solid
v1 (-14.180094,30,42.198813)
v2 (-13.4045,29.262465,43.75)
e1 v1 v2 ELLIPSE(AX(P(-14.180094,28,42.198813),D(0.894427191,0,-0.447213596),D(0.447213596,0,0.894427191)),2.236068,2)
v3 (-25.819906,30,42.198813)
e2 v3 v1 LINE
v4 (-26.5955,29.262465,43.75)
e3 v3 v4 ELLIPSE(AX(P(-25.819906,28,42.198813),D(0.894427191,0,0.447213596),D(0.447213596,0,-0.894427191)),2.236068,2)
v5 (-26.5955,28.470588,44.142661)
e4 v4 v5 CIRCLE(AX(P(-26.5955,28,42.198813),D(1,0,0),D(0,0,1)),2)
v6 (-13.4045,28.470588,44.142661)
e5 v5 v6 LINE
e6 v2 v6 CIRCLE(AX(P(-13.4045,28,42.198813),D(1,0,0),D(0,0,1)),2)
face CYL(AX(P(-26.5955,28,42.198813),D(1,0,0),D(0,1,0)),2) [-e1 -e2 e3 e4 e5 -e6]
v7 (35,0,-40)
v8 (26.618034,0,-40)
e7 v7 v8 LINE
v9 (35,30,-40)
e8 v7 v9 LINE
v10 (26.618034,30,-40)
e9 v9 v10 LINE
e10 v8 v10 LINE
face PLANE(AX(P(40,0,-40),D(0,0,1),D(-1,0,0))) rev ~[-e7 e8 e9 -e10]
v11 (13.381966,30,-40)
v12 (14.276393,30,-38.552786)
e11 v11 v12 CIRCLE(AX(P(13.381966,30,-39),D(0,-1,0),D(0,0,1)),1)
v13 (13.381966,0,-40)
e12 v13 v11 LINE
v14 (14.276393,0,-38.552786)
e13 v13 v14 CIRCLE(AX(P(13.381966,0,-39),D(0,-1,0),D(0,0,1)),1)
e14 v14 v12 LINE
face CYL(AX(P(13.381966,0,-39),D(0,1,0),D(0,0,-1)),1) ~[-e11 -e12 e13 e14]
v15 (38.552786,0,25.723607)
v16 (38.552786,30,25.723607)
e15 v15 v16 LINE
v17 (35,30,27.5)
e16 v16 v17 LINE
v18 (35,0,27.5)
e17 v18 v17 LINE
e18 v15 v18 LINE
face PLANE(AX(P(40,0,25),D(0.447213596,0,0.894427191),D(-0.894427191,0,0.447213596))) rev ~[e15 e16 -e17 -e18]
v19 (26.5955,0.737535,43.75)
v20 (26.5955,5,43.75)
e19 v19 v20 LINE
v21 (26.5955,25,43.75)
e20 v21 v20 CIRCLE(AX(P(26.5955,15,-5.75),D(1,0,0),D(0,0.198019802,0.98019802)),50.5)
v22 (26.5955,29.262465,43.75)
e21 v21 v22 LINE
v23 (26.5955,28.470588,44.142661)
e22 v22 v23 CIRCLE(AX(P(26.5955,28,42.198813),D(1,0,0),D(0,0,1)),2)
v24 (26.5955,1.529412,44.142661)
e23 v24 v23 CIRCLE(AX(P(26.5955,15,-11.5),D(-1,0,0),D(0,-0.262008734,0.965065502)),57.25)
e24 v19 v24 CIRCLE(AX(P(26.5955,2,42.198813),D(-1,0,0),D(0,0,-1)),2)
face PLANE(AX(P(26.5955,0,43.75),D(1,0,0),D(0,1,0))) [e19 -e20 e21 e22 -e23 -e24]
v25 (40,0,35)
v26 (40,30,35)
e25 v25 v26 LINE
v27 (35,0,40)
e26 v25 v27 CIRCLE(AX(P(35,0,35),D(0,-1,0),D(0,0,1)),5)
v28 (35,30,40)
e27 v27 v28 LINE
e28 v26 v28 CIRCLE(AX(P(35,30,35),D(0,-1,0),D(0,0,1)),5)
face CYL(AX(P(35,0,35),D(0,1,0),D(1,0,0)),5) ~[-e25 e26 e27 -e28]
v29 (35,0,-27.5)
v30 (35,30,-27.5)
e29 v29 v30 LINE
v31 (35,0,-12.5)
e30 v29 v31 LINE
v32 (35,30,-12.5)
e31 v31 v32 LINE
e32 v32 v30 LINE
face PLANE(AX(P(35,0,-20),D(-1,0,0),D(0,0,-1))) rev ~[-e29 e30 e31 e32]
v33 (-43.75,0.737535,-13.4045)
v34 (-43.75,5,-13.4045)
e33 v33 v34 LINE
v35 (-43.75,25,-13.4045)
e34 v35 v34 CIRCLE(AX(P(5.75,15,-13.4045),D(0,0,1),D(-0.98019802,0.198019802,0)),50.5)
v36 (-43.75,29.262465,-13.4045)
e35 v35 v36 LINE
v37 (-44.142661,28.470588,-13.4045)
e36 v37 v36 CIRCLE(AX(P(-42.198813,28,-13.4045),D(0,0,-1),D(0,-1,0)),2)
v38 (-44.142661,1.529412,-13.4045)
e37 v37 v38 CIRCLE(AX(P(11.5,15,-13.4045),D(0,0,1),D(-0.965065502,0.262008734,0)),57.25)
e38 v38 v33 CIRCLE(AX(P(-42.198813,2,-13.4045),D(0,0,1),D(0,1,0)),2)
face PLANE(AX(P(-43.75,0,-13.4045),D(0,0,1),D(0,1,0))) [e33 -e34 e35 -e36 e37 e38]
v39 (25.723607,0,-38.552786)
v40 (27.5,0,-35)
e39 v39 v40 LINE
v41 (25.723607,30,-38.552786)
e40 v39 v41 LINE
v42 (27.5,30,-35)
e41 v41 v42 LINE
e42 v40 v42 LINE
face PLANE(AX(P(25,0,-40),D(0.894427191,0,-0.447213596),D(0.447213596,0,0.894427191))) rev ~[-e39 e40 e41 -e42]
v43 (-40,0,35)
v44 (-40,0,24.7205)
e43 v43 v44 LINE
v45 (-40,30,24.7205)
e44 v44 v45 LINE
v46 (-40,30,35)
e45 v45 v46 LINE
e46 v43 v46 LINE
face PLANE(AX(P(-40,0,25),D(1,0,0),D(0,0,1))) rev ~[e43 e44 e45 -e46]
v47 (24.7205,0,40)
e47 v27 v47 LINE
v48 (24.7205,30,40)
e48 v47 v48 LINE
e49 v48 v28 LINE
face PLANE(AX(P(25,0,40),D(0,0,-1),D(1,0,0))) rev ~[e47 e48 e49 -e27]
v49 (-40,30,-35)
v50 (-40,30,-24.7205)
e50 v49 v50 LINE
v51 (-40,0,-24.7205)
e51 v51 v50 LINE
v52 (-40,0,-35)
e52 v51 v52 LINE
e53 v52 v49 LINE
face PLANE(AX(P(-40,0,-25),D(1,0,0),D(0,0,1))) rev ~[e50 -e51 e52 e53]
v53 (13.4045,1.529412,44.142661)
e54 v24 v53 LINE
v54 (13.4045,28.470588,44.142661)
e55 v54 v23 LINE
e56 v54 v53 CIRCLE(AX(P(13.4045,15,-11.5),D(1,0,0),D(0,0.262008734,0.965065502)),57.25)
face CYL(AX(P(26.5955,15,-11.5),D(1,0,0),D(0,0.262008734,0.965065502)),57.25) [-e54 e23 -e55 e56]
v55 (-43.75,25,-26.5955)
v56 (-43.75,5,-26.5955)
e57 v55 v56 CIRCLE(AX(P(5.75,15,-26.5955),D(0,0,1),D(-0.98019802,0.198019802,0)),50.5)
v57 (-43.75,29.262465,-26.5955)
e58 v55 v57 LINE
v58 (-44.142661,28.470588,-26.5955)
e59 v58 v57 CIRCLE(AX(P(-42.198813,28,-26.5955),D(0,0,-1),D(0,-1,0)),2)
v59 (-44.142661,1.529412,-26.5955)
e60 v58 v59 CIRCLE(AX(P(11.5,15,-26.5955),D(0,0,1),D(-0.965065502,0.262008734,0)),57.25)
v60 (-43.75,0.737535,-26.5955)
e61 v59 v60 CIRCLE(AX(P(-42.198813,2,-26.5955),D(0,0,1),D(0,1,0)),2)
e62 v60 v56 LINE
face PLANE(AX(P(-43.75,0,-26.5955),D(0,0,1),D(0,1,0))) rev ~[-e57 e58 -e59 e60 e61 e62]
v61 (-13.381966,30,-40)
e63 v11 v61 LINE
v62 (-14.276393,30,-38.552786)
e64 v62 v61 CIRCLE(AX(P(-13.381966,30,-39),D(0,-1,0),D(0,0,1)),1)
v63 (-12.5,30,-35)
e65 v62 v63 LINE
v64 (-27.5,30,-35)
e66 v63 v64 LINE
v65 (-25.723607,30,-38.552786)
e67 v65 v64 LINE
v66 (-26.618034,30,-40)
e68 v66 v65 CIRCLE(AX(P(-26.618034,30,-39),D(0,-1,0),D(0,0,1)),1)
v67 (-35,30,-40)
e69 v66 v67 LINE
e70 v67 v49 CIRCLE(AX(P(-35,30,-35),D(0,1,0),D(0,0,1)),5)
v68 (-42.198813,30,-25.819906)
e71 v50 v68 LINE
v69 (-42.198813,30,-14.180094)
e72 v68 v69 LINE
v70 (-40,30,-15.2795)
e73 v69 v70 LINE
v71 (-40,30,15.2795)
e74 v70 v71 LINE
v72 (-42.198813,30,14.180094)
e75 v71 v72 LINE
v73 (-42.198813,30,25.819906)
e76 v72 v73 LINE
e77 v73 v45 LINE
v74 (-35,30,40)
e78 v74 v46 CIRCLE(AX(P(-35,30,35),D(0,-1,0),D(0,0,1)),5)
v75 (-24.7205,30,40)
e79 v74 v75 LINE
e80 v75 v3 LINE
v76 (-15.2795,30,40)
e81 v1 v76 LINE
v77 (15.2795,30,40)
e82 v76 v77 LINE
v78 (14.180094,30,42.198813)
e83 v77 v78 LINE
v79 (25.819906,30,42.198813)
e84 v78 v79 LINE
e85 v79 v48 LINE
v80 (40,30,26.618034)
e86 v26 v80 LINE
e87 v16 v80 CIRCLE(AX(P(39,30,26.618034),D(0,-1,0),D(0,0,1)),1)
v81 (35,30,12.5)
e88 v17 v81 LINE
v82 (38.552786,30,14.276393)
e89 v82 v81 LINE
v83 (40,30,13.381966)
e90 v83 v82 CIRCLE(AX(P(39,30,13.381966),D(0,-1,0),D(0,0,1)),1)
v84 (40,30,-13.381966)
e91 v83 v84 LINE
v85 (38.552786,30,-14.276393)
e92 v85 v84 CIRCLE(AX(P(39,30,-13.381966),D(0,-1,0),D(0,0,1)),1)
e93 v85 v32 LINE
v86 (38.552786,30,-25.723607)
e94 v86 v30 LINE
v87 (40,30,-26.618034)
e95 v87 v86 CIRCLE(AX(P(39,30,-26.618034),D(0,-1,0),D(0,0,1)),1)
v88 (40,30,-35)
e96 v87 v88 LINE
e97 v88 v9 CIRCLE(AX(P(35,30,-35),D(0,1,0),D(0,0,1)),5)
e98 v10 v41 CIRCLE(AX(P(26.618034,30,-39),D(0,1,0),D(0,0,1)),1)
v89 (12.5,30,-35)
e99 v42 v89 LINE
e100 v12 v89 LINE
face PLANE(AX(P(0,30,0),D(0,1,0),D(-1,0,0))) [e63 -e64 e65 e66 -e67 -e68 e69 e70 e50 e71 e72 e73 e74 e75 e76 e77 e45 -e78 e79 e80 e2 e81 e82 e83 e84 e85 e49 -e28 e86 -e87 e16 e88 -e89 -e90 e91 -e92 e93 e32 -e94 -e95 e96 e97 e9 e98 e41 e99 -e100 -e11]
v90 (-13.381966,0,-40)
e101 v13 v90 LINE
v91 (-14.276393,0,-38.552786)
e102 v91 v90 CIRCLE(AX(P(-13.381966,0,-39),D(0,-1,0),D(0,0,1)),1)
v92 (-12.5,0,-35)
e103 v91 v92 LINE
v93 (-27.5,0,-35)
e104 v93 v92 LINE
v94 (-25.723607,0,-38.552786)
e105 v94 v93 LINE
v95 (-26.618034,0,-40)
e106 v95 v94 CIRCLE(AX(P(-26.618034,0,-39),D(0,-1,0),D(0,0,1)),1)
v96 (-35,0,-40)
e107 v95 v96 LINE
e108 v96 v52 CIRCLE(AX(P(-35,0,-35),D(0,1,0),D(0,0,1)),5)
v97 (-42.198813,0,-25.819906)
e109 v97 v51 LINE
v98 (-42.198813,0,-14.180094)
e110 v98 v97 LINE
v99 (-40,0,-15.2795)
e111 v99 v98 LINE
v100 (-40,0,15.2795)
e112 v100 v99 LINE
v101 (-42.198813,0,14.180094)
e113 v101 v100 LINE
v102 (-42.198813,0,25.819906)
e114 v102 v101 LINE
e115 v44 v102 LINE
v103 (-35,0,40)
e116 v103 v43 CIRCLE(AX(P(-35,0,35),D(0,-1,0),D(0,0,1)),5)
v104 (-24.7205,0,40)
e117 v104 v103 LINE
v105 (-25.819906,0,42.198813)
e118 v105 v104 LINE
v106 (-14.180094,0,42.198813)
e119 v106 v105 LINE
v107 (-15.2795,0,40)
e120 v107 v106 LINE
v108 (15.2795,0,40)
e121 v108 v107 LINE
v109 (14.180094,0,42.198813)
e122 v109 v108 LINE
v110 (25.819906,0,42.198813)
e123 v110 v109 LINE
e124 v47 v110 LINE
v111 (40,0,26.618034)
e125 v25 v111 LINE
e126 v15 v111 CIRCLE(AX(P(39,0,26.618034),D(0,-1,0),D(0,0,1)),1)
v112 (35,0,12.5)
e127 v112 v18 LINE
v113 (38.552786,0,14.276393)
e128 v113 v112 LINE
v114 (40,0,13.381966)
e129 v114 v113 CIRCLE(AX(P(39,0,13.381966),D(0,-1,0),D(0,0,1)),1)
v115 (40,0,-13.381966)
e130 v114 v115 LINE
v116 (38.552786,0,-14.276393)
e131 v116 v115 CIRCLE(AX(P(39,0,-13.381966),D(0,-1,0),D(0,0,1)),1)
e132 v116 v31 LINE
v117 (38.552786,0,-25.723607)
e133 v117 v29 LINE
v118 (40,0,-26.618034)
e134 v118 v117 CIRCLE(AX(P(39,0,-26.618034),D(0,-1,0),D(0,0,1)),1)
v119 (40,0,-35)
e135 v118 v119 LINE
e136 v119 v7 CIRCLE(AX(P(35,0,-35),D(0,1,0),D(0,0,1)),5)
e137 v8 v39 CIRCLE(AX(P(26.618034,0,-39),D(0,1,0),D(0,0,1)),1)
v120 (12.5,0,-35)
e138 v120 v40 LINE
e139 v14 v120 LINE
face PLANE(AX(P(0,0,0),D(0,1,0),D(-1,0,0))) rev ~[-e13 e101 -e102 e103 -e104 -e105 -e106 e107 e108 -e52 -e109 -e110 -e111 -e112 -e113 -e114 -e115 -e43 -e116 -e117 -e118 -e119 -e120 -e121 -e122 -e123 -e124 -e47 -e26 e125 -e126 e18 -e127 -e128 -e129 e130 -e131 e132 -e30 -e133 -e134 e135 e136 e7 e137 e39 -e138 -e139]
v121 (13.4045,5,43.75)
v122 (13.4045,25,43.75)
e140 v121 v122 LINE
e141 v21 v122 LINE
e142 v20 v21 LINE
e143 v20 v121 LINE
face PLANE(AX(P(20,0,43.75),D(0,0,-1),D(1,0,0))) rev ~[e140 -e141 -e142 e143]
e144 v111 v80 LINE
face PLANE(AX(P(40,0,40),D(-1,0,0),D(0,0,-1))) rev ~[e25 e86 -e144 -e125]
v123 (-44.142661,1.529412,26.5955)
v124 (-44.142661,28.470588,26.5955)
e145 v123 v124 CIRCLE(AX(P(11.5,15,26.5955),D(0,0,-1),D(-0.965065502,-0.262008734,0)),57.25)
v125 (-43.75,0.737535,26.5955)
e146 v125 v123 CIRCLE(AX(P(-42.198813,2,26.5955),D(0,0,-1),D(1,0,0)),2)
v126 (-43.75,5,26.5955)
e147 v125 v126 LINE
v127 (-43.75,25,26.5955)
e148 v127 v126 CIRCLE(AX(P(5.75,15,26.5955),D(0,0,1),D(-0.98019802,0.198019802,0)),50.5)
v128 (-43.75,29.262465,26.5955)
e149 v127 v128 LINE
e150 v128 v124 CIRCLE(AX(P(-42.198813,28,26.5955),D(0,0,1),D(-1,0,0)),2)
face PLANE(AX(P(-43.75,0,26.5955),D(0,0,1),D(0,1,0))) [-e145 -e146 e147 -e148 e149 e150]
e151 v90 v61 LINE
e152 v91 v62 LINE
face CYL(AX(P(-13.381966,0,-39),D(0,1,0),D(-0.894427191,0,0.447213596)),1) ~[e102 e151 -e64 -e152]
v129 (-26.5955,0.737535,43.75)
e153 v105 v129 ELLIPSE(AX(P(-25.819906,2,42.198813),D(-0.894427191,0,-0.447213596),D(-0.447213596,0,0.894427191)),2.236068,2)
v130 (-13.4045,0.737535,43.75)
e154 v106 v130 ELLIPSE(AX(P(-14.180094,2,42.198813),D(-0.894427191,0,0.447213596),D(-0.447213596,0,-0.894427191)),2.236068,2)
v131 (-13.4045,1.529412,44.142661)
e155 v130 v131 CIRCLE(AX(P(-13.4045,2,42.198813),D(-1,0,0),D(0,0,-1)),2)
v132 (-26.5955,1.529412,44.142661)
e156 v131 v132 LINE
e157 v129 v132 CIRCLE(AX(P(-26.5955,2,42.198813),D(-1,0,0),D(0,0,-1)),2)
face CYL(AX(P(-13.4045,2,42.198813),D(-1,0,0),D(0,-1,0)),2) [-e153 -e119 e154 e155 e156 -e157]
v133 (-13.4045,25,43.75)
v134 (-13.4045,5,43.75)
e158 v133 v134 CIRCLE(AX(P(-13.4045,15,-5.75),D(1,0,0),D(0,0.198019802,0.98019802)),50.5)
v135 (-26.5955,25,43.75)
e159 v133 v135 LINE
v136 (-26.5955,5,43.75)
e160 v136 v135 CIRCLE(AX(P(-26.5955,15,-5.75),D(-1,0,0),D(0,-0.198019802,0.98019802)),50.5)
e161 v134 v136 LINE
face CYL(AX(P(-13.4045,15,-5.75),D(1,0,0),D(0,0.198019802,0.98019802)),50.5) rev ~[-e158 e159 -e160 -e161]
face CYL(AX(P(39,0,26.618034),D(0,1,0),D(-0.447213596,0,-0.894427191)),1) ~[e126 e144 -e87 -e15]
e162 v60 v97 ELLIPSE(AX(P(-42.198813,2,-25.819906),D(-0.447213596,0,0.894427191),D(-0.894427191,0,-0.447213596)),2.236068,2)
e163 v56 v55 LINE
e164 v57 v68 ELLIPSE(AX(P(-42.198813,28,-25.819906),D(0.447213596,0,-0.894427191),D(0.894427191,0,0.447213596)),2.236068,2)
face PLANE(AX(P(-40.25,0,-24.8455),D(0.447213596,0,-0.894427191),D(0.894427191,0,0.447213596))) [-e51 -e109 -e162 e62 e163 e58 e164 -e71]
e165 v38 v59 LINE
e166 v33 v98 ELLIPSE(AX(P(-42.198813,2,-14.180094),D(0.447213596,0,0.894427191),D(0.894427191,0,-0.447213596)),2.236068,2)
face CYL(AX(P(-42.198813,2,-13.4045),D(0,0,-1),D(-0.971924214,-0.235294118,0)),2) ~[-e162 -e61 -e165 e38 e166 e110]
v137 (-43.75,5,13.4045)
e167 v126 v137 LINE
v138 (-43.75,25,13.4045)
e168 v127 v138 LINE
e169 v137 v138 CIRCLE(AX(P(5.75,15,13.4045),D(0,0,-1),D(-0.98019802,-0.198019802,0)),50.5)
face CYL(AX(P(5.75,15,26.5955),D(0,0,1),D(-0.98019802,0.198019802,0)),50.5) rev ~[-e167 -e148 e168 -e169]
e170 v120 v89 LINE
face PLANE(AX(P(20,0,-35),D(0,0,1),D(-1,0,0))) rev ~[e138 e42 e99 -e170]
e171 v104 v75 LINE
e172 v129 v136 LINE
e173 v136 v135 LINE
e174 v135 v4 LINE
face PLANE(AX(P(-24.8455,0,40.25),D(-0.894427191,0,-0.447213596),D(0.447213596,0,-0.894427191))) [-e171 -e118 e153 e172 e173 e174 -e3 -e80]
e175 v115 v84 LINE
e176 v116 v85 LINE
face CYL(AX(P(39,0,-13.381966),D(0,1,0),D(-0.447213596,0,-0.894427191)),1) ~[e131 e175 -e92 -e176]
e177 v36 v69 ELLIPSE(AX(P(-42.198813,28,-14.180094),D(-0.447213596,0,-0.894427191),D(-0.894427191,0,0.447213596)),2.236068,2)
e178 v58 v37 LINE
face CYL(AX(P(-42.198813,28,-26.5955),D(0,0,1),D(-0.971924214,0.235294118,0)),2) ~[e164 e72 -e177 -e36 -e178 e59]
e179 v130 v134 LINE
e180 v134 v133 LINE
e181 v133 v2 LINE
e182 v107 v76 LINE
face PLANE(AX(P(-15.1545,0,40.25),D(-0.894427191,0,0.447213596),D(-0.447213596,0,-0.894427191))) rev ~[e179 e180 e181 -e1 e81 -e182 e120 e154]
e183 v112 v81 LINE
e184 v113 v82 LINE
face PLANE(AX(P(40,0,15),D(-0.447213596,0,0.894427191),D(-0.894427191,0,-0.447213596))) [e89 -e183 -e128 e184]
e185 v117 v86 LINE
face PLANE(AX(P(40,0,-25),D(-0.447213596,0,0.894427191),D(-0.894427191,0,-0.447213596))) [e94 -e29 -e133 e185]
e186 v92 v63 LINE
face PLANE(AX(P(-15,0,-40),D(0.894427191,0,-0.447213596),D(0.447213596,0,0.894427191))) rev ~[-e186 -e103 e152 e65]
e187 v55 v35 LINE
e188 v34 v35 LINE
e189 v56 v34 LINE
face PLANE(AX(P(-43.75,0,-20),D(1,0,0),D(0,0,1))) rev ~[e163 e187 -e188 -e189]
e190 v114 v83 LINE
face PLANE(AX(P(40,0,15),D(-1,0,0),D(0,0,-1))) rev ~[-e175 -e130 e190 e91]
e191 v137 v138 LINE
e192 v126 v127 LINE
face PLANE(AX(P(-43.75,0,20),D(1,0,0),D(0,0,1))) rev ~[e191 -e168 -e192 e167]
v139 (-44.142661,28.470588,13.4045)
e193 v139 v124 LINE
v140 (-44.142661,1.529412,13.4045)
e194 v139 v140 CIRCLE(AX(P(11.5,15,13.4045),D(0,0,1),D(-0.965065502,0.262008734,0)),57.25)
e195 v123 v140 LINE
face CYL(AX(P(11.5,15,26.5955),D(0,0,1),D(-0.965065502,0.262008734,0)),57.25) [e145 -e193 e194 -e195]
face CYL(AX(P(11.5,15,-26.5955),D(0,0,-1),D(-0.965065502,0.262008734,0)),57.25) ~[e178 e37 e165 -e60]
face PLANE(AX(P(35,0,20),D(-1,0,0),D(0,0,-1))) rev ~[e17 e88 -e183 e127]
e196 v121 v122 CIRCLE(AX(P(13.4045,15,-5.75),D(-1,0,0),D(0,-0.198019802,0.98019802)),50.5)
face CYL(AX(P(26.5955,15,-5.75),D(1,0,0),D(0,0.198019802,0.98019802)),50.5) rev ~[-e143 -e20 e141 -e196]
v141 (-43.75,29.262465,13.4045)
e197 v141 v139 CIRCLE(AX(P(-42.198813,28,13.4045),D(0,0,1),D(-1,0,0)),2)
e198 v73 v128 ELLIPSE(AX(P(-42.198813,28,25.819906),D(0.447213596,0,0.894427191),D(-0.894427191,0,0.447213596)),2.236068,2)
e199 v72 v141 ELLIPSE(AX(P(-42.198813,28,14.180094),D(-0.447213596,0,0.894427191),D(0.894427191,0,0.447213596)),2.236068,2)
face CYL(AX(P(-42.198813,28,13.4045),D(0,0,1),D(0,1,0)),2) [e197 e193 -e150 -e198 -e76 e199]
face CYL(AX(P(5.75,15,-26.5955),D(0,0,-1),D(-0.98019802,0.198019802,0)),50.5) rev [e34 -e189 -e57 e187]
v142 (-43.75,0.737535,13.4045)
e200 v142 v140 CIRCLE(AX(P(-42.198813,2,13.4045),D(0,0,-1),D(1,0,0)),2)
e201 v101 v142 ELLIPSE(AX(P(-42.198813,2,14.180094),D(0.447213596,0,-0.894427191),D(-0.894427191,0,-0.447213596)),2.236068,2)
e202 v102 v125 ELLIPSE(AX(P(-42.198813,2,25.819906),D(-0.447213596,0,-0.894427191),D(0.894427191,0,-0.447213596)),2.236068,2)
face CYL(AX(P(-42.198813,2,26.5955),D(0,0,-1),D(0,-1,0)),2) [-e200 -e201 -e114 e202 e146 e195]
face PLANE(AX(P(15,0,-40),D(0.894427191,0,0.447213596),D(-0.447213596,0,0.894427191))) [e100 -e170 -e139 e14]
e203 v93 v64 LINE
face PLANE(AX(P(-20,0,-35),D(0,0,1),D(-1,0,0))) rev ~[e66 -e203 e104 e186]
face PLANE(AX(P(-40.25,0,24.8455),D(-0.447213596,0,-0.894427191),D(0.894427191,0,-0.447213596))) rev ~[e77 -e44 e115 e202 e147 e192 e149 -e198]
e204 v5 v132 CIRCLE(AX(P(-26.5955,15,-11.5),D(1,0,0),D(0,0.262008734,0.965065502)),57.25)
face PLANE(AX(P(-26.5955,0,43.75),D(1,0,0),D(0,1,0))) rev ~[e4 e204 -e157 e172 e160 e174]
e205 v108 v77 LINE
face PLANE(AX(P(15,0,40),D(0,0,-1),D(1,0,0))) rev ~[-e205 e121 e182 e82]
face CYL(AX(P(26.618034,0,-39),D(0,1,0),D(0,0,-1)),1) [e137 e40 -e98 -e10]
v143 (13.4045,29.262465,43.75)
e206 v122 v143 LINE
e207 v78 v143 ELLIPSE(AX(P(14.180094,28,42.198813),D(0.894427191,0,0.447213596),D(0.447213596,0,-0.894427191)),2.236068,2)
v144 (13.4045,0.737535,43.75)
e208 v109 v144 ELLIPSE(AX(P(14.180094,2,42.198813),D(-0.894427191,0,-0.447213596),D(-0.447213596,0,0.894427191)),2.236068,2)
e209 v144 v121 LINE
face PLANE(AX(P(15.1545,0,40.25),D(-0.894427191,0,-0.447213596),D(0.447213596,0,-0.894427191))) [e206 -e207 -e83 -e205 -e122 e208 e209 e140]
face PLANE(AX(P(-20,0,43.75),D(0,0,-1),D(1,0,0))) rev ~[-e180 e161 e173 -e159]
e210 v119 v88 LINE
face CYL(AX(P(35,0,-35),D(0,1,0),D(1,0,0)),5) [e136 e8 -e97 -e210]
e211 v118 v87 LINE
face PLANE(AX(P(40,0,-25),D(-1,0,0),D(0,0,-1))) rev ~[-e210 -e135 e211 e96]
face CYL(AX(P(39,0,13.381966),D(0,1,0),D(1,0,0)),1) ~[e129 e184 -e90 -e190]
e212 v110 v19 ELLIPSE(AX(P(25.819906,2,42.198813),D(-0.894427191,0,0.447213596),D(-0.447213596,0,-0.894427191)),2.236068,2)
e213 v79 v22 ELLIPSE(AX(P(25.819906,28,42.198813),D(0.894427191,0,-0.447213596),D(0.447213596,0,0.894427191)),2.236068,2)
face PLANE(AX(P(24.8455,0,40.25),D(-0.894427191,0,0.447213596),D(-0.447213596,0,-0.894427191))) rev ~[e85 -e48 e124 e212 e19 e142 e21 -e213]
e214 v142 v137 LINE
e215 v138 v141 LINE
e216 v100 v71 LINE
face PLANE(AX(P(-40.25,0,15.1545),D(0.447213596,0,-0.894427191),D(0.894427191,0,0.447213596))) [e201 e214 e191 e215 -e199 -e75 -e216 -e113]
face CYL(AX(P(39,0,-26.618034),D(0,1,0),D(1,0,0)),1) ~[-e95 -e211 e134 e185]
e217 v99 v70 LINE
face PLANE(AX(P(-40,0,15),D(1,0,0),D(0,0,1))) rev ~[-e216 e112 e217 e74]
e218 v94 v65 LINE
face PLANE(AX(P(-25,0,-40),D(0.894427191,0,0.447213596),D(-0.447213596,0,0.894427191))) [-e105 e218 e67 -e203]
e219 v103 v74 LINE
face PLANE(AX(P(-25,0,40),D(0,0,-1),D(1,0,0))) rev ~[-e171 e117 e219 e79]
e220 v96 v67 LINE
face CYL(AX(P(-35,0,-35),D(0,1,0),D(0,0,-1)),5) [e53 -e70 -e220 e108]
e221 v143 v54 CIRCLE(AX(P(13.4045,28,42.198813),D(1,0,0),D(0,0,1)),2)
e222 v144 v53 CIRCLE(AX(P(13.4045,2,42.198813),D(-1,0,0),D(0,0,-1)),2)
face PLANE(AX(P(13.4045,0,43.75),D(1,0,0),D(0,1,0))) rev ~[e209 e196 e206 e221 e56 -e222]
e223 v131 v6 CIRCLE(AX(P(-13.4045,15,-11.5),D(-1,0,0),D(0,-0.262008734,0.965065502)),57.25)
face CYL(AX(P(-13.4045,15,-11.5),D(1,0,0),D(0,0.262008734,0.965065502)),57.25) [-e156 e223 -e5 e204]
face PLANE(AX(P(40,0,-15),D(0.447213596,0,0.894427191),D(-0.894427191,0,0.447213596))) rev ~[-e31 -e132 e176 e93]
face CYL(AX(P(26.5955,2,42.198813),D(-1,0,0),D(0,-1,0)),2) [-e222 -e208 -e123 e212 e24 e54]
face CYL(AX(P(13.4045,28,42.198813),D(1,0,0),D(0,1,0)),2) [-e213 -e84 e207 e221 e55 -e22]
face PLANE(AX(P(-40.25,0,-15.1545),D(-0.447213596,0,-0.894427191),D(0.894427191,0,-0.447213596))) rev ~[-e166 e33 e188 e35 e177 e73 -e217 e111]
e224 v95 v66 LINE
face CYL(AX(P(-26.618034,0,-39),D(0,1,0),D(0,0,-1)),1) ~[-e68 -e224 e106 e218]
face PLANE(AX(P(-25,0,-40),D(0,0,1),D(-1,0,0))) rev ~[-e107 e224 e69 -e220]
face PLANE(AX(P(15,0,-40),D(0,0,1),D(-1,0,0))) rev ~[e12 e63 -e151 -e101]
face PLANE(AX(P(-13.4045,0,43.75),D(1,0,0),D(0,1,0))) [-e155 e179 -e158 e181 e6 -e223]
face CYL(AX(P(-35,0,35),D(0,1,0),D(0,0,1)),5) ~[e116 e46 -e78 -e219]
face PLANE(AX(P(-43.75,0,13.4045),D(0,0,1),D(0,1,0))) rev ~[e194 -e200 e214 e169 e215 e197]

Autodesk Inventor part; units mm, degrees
ref_plane "YZ Plane" through (0, 0, 0) normal (1, 0, 0) x (0, 1, 0)
sketch "Sketch2" plane through (0, 0, 0) normal (0, 1, 0) x (-1, 0, 0)
  line L0 (-40, -40) -> (40, -40)
  line L1 (40, -40) -> (40, 40)
  line L2 (40, 40) -> (-40, 40)
  line L3 (-40, 40) -> (-40, -40)
  line L4 (-40, -40) -> (40, 40) construction
  line L5 (40, -40) -> (-40, 40) construction
  line L6 (0, 40) -> (40, 40)
  line L7 (20, 40) -> (20, 45)
  line L8 (20, 45) -> (27.5, 45)
  line L9 (20, 40) -> (25, 40)
  line L10 (25, 40) -> (27.5, 45)
  line L11 (20, 45) -> (12.5, 45)
  line L12 (20, 40) -> (15, 40)
  line L13 (15, 40) -> (12.5, 45)
  line L14 (20, 44.75) -> (27.0955, 44.75)
  line L15 (27.0955, 44.75) -> (24.8455, 40.25)
  line L16 (24.8455, 40.25) -> (20, 40.25)
  line L17 (20, 44.75) -> (12.9045, 44.75)
  line L18 (12.9045, 44.75) -> (15.1545, 40.25)
  line L19 (15.1545, 40.25) -> (20, 40.25)
  line L20 (20, 44.75) -> (20, 43.75)
  line L21 (20, 43.75) -> (26.875, 43.75)
  line L22 (20, 43.75) -> (13.125, 43.75)
  line L23 (40, 20) -> (45, 20)
  line L24 (45, 20) -> (45, 27.5)
  line L25 (40, 20) -> (40, 25)
  line L26 (40, 25) -> (45, 27.5)
  line L27 (40, 20) -> (40, 15)
  line L28 (40, 15) -> (45, 12.5)
  line L29 (45, 20) -> (45, 12.5)
  line L30 (44.75, 20) -> (44.75, 27.0955)
  line L31 (44.75, 27.0955) -> (40.25, 24.8455)
  line L32 (40.25, 24.8455) -> (40.25, 20)
  line L33 (44.75, 20) -> (44.75, 12.9045)
  line L34 (44.75, 12.9045) -> (40.25, 15.1545)
  line L35 (40.25, 15.1545) -> (40.25, 20)
  line L36 (44.75, 20) -> (43.75, 20)
  line L37 (43.75, 20) -> (43.75, 26.875)
  line L38 (43.75, 20) -> (43.75, 13.125)
  line L39 (-20, 40) -> (-20, 45)
  line L40 (-20, 44.75) -> (-20, 43.75)
  line L41 (-24.8455, 40.25) -> (-20, 40.25)
  line L42 (-20, 40) -> (-25, 40)
  line L43 (-27.0955, 44.75) -> (-24.8455, 40.25)
  line L44 (-25, 40) -> (-27.5, 45)
  line L45 (-20, 43.75) -> (-26.875, 43.75)
  line L46 (-20, 45) -> (-27.5, 45)
  line L47 (-20, 44.75) -> (-27.0955, 44.75)
  line L48 (-15.1545, 40.25) -> (-20, 40.25)
  line L49 (-20, 40) -> (-15, 40)
  line L50 (-20, 43.75) -> (-13.125, 43.75)
  line L51 (-20, 44.75) -> (-12.9045, 44.75)
  line L52 (-20, 45) -> (-12.5, 45)
  line L53 (-12.9045, 44.75) -> (-15.1545, 40.25)
  line L54 (-15, 40) -> (-12.5, 45)
  line L55 (40, -20) -> (40, -15)
  line L56 (44.75, -12.9045) -> (40.25, -15.1545)
  line L57 (40, -15) -> (45, -12.5)
  line L58 (43.75, -20) -> (43.75, -13.125)
  line L59 (44.75, -20) -> (44.75, -12.9045)
  line L60 (45, -20) -> (45, -12.5)
  line L61 (40.25, -15.1545) -> (40.25, -20)
  line L62 (40, -20) -> (45, -20)
  line L63 (40.25, -24.8455) -> (40.25, -20)
  line L64 (40, -20) -> (40, -25)
  line L65 (44.75, -27.0955) -> (40.25, -24.8455)
  line L66 (40, -25) -> (45, -27.5)
  line L67 (43.75, -20) -> (43.75, -26.875)
  line L68 (44.75, -20) -> (44.75, -27.0955)
  line L69 (45, -20) -> (45, -27.5)
  line L70 (44.75, -20) -> (43.75, -20)
  line L71 (20, -35) -> (27.5, -35)
  line L72 (25, -40) -> (27.5, -35)
  line L73 (20, -35) -> (12.5, -35)
  line L74 (15, -40) -> (12.5, -35)
  line L75 (-15, -40) -> (-12.5, -35)
  line L76 (-20, -35) -> (-12.5, -35)
  line L77 (-25, -40) -> (-27.5, -35)
  line L78 (-20, -35) -> (-27.5, -35)
  line L79 (24.8455, 40.25) -> (24.7205, 40)
  line L80 (15.1545, 40.25) -> (15.2795, 40)
  line L81 (-15.1545, 40.25) -> (-15.2795, 40)
  line L82 (-24.8455, 40.25) -> (-24.7205, 40)
  line L83 (40.25, 24.8455) -> (40, 24.7205)
  line L84 (40.25, 15.1545) -> (40, 15.2795)
  line L85 (40.25, -24.8455) -> (40, -24.7205)
  line L86 (40.25, -15.1545) -> (40, -15.2795)
  line L87 (-40, -25) -> (-35, -27.5)
  line L88 (-35, -20) -> (-35, -27.5)
  line L89 (-35, -20) -> (-35, -12.5)
  line L90 (-40, -15) -> (-35, -12.5)
  line L91 (-35, 20) -> (-35, 12.5)
  line L92 (-35, 20) -> (-35, 27.5)
  line L93 (-40, 15) -> (-35, 12.5)
  line L94 (-40, 25) -> (-35, 27.5)
  point P0 (0, 0)
  point P1 (26.875, -36.25)
  point P2 (13.125, -36.25)
  point P3 (-13.125, -36.25)
  point P4 (-26.875, -36.25)
  point P5 (-13.4045, 43.75)
  point P6 (-26.5955, 43.75)
  point P7 (43.75, -26.5955)
  point P8 (43.75, -13.4045)
  point P9 (43.75, 13.4045)
  point P10 (43.75, 26.5955)
  point P11 (26.5955, 43.75)
  point P12 (13.4045, 43.75)
  point P13 (-36.25, -26.875)
  point P14 (-36.25, -13.125)
  point P15 (-36.25, 13.125)
  point P16 (-36.25, 26.875)
  dimension "d0" = 80
  dimension "d1" = 80
  dimension "d2" = 5
  dimension "d3" = 7.5
  dimension "d4" = 5
  dimension "d5" = 0.25
  dimension "d6" = 0.25
  dimension "d7" = 1
  dimension "d10" = 40
  dimension "d17" = 40
  dimension "d24" = 80
  dimension "d51" = 80
extrude "Extrusion1" add sketch "Sketch2" along normal blind 30 contours L3 L87 L88 L89 L90 L93 L91 L92 L94 L2 L1 L0 L72 L71 L73 L74 L75 L76 L78 L77 | L1 L62 L63 L85 | L82 L41 L39 L2 | L1 L86 L61 L62 | L63 L62 L67 L65 | L39 L48 L81 L2 | L43 L45 L39 L41 | L61 L56 L58 L62 | L39 L50 L53 L48 | L1 L23 L35 L84 | L1 L83 L32 L23 | L35 L23 L38 L34 | L80 L19 L7 L2 | L32 L31 L37 L23 | L7 L16 L79 L2 | L18 L22 L7 L19 | L7 L21 L15 L16
fillet "Fillet1" radius 1 8 edges at (-25, 15, -40) (-15, 15, -40) (15, 15, -40) (25, 15, -40) (40, 15, 15) (40, 15, 25) (40, 15, -15) (40, 15, -25)
fillet "Fillet2" radius 5 4 edges at (-40, 15, 40) (40, 15, 40) (40, 15, -40) (-40, 15, -40)
ref_plane "Work Plane1" through (-13.4045, 0, 43.75) normal (1, 0, 0) x (0, 1, 0)
sketch "Sketch3" plane through (-13.4045, 0, 43.75) normal (1, 0, 0) x (0, 1, 0)
  line L0 (0, -3.75) -> (30, -3.75) projected
  line L1 (15, -3.75) -> (15, 2)
  line L2 (15, 2) -> (15, 1)
  line L3 (30, -3.75) -> (30, 0) projected
  arc A0 (30, 0) -> (0, 0) centre (15, -55.25) ccw
  line L4 (30, 0) -> (25, 0)
  line L5 (0, 0) -> (30, 0) projected
  line L6 (25, 0) -> (5, 0)
  arc A1 (25, 0) -> (5, 0) centre (15, -49.5) ccw
  point P0 (0, -43.75)
  dimension "d34" = 5.75
  dimension "d35" = 1
  dimension "d36" = 5
  dimension "d37" = 20
extrude "Extrusion2" add sketch "Sketch3" against normal blind 13.191 contours L4 A1 L1 A0 | A1 L5 A0 L1
sketch "Sketch4" plane through (0, 30, 0) normal (0, 1, 0) x (1, 0, 0)
  line L0 (-26.5955, -43.75) -> (-13.4045, -43.75) projected
  line L1 (-20, -43.75) -> (-20, 0)
  line L2 (-20, 0) -> (-43.75, -20)
  line L3 (-43.75, -13.4045) -> (-43.75, -26.5955) projected
  line L4 (-43.75, -20) -> (-20, -20)
  point P0 (0, 0)
pattern_circular "Circular Pattern1" count 2 over 270 about axis through (-20, 30, 20) along (0, 1, 0) of "Extrusion2"
pattern_linear "Rectangular Pattern1" count 2 spacing 40 along (1, 0, 0) of "Extrusion2"
ref_plane "Work Plane2" through (-43.75, 0, -26.5955) normal (0, 0, 1) x (0, 1, 0)
sketch "Sketch5" plane through (-43.75, 0, -26.5955) normal (0, 0, 1) x (0, 1, 0)
  line L0 (30, 0) -> (30, -3.75) projected
  line L1 (0, 0) -> (30, 0) projected
  arc A0 (30, 0) -> (0, 0) centre (15, -55.25) ccw
  arc A1 (25, 0) -> (5, 0) centre (15, -49.5) ccw projected
  arc A2 (25, 0) -> (5, 0) centre (15, -49.5) ccw
  point P0 (0, -43.75)
extrude "Extrusion3" add sketch "Sketch5" along normal blind 13.191 contours A0 L1 A1
fillet "Fillet3" radius 2 8 edges at (-26.5955, 30, 43.75) (-20, 0, 43.75) (20, 30, 43.75) (20, 0, 43.75) (-43.75, 30, 20) (-43.75, 30, -13.4045) (-43.75, 0, -13.4045) (-43.75, 0, 20)
properties part number "2x2Base"
